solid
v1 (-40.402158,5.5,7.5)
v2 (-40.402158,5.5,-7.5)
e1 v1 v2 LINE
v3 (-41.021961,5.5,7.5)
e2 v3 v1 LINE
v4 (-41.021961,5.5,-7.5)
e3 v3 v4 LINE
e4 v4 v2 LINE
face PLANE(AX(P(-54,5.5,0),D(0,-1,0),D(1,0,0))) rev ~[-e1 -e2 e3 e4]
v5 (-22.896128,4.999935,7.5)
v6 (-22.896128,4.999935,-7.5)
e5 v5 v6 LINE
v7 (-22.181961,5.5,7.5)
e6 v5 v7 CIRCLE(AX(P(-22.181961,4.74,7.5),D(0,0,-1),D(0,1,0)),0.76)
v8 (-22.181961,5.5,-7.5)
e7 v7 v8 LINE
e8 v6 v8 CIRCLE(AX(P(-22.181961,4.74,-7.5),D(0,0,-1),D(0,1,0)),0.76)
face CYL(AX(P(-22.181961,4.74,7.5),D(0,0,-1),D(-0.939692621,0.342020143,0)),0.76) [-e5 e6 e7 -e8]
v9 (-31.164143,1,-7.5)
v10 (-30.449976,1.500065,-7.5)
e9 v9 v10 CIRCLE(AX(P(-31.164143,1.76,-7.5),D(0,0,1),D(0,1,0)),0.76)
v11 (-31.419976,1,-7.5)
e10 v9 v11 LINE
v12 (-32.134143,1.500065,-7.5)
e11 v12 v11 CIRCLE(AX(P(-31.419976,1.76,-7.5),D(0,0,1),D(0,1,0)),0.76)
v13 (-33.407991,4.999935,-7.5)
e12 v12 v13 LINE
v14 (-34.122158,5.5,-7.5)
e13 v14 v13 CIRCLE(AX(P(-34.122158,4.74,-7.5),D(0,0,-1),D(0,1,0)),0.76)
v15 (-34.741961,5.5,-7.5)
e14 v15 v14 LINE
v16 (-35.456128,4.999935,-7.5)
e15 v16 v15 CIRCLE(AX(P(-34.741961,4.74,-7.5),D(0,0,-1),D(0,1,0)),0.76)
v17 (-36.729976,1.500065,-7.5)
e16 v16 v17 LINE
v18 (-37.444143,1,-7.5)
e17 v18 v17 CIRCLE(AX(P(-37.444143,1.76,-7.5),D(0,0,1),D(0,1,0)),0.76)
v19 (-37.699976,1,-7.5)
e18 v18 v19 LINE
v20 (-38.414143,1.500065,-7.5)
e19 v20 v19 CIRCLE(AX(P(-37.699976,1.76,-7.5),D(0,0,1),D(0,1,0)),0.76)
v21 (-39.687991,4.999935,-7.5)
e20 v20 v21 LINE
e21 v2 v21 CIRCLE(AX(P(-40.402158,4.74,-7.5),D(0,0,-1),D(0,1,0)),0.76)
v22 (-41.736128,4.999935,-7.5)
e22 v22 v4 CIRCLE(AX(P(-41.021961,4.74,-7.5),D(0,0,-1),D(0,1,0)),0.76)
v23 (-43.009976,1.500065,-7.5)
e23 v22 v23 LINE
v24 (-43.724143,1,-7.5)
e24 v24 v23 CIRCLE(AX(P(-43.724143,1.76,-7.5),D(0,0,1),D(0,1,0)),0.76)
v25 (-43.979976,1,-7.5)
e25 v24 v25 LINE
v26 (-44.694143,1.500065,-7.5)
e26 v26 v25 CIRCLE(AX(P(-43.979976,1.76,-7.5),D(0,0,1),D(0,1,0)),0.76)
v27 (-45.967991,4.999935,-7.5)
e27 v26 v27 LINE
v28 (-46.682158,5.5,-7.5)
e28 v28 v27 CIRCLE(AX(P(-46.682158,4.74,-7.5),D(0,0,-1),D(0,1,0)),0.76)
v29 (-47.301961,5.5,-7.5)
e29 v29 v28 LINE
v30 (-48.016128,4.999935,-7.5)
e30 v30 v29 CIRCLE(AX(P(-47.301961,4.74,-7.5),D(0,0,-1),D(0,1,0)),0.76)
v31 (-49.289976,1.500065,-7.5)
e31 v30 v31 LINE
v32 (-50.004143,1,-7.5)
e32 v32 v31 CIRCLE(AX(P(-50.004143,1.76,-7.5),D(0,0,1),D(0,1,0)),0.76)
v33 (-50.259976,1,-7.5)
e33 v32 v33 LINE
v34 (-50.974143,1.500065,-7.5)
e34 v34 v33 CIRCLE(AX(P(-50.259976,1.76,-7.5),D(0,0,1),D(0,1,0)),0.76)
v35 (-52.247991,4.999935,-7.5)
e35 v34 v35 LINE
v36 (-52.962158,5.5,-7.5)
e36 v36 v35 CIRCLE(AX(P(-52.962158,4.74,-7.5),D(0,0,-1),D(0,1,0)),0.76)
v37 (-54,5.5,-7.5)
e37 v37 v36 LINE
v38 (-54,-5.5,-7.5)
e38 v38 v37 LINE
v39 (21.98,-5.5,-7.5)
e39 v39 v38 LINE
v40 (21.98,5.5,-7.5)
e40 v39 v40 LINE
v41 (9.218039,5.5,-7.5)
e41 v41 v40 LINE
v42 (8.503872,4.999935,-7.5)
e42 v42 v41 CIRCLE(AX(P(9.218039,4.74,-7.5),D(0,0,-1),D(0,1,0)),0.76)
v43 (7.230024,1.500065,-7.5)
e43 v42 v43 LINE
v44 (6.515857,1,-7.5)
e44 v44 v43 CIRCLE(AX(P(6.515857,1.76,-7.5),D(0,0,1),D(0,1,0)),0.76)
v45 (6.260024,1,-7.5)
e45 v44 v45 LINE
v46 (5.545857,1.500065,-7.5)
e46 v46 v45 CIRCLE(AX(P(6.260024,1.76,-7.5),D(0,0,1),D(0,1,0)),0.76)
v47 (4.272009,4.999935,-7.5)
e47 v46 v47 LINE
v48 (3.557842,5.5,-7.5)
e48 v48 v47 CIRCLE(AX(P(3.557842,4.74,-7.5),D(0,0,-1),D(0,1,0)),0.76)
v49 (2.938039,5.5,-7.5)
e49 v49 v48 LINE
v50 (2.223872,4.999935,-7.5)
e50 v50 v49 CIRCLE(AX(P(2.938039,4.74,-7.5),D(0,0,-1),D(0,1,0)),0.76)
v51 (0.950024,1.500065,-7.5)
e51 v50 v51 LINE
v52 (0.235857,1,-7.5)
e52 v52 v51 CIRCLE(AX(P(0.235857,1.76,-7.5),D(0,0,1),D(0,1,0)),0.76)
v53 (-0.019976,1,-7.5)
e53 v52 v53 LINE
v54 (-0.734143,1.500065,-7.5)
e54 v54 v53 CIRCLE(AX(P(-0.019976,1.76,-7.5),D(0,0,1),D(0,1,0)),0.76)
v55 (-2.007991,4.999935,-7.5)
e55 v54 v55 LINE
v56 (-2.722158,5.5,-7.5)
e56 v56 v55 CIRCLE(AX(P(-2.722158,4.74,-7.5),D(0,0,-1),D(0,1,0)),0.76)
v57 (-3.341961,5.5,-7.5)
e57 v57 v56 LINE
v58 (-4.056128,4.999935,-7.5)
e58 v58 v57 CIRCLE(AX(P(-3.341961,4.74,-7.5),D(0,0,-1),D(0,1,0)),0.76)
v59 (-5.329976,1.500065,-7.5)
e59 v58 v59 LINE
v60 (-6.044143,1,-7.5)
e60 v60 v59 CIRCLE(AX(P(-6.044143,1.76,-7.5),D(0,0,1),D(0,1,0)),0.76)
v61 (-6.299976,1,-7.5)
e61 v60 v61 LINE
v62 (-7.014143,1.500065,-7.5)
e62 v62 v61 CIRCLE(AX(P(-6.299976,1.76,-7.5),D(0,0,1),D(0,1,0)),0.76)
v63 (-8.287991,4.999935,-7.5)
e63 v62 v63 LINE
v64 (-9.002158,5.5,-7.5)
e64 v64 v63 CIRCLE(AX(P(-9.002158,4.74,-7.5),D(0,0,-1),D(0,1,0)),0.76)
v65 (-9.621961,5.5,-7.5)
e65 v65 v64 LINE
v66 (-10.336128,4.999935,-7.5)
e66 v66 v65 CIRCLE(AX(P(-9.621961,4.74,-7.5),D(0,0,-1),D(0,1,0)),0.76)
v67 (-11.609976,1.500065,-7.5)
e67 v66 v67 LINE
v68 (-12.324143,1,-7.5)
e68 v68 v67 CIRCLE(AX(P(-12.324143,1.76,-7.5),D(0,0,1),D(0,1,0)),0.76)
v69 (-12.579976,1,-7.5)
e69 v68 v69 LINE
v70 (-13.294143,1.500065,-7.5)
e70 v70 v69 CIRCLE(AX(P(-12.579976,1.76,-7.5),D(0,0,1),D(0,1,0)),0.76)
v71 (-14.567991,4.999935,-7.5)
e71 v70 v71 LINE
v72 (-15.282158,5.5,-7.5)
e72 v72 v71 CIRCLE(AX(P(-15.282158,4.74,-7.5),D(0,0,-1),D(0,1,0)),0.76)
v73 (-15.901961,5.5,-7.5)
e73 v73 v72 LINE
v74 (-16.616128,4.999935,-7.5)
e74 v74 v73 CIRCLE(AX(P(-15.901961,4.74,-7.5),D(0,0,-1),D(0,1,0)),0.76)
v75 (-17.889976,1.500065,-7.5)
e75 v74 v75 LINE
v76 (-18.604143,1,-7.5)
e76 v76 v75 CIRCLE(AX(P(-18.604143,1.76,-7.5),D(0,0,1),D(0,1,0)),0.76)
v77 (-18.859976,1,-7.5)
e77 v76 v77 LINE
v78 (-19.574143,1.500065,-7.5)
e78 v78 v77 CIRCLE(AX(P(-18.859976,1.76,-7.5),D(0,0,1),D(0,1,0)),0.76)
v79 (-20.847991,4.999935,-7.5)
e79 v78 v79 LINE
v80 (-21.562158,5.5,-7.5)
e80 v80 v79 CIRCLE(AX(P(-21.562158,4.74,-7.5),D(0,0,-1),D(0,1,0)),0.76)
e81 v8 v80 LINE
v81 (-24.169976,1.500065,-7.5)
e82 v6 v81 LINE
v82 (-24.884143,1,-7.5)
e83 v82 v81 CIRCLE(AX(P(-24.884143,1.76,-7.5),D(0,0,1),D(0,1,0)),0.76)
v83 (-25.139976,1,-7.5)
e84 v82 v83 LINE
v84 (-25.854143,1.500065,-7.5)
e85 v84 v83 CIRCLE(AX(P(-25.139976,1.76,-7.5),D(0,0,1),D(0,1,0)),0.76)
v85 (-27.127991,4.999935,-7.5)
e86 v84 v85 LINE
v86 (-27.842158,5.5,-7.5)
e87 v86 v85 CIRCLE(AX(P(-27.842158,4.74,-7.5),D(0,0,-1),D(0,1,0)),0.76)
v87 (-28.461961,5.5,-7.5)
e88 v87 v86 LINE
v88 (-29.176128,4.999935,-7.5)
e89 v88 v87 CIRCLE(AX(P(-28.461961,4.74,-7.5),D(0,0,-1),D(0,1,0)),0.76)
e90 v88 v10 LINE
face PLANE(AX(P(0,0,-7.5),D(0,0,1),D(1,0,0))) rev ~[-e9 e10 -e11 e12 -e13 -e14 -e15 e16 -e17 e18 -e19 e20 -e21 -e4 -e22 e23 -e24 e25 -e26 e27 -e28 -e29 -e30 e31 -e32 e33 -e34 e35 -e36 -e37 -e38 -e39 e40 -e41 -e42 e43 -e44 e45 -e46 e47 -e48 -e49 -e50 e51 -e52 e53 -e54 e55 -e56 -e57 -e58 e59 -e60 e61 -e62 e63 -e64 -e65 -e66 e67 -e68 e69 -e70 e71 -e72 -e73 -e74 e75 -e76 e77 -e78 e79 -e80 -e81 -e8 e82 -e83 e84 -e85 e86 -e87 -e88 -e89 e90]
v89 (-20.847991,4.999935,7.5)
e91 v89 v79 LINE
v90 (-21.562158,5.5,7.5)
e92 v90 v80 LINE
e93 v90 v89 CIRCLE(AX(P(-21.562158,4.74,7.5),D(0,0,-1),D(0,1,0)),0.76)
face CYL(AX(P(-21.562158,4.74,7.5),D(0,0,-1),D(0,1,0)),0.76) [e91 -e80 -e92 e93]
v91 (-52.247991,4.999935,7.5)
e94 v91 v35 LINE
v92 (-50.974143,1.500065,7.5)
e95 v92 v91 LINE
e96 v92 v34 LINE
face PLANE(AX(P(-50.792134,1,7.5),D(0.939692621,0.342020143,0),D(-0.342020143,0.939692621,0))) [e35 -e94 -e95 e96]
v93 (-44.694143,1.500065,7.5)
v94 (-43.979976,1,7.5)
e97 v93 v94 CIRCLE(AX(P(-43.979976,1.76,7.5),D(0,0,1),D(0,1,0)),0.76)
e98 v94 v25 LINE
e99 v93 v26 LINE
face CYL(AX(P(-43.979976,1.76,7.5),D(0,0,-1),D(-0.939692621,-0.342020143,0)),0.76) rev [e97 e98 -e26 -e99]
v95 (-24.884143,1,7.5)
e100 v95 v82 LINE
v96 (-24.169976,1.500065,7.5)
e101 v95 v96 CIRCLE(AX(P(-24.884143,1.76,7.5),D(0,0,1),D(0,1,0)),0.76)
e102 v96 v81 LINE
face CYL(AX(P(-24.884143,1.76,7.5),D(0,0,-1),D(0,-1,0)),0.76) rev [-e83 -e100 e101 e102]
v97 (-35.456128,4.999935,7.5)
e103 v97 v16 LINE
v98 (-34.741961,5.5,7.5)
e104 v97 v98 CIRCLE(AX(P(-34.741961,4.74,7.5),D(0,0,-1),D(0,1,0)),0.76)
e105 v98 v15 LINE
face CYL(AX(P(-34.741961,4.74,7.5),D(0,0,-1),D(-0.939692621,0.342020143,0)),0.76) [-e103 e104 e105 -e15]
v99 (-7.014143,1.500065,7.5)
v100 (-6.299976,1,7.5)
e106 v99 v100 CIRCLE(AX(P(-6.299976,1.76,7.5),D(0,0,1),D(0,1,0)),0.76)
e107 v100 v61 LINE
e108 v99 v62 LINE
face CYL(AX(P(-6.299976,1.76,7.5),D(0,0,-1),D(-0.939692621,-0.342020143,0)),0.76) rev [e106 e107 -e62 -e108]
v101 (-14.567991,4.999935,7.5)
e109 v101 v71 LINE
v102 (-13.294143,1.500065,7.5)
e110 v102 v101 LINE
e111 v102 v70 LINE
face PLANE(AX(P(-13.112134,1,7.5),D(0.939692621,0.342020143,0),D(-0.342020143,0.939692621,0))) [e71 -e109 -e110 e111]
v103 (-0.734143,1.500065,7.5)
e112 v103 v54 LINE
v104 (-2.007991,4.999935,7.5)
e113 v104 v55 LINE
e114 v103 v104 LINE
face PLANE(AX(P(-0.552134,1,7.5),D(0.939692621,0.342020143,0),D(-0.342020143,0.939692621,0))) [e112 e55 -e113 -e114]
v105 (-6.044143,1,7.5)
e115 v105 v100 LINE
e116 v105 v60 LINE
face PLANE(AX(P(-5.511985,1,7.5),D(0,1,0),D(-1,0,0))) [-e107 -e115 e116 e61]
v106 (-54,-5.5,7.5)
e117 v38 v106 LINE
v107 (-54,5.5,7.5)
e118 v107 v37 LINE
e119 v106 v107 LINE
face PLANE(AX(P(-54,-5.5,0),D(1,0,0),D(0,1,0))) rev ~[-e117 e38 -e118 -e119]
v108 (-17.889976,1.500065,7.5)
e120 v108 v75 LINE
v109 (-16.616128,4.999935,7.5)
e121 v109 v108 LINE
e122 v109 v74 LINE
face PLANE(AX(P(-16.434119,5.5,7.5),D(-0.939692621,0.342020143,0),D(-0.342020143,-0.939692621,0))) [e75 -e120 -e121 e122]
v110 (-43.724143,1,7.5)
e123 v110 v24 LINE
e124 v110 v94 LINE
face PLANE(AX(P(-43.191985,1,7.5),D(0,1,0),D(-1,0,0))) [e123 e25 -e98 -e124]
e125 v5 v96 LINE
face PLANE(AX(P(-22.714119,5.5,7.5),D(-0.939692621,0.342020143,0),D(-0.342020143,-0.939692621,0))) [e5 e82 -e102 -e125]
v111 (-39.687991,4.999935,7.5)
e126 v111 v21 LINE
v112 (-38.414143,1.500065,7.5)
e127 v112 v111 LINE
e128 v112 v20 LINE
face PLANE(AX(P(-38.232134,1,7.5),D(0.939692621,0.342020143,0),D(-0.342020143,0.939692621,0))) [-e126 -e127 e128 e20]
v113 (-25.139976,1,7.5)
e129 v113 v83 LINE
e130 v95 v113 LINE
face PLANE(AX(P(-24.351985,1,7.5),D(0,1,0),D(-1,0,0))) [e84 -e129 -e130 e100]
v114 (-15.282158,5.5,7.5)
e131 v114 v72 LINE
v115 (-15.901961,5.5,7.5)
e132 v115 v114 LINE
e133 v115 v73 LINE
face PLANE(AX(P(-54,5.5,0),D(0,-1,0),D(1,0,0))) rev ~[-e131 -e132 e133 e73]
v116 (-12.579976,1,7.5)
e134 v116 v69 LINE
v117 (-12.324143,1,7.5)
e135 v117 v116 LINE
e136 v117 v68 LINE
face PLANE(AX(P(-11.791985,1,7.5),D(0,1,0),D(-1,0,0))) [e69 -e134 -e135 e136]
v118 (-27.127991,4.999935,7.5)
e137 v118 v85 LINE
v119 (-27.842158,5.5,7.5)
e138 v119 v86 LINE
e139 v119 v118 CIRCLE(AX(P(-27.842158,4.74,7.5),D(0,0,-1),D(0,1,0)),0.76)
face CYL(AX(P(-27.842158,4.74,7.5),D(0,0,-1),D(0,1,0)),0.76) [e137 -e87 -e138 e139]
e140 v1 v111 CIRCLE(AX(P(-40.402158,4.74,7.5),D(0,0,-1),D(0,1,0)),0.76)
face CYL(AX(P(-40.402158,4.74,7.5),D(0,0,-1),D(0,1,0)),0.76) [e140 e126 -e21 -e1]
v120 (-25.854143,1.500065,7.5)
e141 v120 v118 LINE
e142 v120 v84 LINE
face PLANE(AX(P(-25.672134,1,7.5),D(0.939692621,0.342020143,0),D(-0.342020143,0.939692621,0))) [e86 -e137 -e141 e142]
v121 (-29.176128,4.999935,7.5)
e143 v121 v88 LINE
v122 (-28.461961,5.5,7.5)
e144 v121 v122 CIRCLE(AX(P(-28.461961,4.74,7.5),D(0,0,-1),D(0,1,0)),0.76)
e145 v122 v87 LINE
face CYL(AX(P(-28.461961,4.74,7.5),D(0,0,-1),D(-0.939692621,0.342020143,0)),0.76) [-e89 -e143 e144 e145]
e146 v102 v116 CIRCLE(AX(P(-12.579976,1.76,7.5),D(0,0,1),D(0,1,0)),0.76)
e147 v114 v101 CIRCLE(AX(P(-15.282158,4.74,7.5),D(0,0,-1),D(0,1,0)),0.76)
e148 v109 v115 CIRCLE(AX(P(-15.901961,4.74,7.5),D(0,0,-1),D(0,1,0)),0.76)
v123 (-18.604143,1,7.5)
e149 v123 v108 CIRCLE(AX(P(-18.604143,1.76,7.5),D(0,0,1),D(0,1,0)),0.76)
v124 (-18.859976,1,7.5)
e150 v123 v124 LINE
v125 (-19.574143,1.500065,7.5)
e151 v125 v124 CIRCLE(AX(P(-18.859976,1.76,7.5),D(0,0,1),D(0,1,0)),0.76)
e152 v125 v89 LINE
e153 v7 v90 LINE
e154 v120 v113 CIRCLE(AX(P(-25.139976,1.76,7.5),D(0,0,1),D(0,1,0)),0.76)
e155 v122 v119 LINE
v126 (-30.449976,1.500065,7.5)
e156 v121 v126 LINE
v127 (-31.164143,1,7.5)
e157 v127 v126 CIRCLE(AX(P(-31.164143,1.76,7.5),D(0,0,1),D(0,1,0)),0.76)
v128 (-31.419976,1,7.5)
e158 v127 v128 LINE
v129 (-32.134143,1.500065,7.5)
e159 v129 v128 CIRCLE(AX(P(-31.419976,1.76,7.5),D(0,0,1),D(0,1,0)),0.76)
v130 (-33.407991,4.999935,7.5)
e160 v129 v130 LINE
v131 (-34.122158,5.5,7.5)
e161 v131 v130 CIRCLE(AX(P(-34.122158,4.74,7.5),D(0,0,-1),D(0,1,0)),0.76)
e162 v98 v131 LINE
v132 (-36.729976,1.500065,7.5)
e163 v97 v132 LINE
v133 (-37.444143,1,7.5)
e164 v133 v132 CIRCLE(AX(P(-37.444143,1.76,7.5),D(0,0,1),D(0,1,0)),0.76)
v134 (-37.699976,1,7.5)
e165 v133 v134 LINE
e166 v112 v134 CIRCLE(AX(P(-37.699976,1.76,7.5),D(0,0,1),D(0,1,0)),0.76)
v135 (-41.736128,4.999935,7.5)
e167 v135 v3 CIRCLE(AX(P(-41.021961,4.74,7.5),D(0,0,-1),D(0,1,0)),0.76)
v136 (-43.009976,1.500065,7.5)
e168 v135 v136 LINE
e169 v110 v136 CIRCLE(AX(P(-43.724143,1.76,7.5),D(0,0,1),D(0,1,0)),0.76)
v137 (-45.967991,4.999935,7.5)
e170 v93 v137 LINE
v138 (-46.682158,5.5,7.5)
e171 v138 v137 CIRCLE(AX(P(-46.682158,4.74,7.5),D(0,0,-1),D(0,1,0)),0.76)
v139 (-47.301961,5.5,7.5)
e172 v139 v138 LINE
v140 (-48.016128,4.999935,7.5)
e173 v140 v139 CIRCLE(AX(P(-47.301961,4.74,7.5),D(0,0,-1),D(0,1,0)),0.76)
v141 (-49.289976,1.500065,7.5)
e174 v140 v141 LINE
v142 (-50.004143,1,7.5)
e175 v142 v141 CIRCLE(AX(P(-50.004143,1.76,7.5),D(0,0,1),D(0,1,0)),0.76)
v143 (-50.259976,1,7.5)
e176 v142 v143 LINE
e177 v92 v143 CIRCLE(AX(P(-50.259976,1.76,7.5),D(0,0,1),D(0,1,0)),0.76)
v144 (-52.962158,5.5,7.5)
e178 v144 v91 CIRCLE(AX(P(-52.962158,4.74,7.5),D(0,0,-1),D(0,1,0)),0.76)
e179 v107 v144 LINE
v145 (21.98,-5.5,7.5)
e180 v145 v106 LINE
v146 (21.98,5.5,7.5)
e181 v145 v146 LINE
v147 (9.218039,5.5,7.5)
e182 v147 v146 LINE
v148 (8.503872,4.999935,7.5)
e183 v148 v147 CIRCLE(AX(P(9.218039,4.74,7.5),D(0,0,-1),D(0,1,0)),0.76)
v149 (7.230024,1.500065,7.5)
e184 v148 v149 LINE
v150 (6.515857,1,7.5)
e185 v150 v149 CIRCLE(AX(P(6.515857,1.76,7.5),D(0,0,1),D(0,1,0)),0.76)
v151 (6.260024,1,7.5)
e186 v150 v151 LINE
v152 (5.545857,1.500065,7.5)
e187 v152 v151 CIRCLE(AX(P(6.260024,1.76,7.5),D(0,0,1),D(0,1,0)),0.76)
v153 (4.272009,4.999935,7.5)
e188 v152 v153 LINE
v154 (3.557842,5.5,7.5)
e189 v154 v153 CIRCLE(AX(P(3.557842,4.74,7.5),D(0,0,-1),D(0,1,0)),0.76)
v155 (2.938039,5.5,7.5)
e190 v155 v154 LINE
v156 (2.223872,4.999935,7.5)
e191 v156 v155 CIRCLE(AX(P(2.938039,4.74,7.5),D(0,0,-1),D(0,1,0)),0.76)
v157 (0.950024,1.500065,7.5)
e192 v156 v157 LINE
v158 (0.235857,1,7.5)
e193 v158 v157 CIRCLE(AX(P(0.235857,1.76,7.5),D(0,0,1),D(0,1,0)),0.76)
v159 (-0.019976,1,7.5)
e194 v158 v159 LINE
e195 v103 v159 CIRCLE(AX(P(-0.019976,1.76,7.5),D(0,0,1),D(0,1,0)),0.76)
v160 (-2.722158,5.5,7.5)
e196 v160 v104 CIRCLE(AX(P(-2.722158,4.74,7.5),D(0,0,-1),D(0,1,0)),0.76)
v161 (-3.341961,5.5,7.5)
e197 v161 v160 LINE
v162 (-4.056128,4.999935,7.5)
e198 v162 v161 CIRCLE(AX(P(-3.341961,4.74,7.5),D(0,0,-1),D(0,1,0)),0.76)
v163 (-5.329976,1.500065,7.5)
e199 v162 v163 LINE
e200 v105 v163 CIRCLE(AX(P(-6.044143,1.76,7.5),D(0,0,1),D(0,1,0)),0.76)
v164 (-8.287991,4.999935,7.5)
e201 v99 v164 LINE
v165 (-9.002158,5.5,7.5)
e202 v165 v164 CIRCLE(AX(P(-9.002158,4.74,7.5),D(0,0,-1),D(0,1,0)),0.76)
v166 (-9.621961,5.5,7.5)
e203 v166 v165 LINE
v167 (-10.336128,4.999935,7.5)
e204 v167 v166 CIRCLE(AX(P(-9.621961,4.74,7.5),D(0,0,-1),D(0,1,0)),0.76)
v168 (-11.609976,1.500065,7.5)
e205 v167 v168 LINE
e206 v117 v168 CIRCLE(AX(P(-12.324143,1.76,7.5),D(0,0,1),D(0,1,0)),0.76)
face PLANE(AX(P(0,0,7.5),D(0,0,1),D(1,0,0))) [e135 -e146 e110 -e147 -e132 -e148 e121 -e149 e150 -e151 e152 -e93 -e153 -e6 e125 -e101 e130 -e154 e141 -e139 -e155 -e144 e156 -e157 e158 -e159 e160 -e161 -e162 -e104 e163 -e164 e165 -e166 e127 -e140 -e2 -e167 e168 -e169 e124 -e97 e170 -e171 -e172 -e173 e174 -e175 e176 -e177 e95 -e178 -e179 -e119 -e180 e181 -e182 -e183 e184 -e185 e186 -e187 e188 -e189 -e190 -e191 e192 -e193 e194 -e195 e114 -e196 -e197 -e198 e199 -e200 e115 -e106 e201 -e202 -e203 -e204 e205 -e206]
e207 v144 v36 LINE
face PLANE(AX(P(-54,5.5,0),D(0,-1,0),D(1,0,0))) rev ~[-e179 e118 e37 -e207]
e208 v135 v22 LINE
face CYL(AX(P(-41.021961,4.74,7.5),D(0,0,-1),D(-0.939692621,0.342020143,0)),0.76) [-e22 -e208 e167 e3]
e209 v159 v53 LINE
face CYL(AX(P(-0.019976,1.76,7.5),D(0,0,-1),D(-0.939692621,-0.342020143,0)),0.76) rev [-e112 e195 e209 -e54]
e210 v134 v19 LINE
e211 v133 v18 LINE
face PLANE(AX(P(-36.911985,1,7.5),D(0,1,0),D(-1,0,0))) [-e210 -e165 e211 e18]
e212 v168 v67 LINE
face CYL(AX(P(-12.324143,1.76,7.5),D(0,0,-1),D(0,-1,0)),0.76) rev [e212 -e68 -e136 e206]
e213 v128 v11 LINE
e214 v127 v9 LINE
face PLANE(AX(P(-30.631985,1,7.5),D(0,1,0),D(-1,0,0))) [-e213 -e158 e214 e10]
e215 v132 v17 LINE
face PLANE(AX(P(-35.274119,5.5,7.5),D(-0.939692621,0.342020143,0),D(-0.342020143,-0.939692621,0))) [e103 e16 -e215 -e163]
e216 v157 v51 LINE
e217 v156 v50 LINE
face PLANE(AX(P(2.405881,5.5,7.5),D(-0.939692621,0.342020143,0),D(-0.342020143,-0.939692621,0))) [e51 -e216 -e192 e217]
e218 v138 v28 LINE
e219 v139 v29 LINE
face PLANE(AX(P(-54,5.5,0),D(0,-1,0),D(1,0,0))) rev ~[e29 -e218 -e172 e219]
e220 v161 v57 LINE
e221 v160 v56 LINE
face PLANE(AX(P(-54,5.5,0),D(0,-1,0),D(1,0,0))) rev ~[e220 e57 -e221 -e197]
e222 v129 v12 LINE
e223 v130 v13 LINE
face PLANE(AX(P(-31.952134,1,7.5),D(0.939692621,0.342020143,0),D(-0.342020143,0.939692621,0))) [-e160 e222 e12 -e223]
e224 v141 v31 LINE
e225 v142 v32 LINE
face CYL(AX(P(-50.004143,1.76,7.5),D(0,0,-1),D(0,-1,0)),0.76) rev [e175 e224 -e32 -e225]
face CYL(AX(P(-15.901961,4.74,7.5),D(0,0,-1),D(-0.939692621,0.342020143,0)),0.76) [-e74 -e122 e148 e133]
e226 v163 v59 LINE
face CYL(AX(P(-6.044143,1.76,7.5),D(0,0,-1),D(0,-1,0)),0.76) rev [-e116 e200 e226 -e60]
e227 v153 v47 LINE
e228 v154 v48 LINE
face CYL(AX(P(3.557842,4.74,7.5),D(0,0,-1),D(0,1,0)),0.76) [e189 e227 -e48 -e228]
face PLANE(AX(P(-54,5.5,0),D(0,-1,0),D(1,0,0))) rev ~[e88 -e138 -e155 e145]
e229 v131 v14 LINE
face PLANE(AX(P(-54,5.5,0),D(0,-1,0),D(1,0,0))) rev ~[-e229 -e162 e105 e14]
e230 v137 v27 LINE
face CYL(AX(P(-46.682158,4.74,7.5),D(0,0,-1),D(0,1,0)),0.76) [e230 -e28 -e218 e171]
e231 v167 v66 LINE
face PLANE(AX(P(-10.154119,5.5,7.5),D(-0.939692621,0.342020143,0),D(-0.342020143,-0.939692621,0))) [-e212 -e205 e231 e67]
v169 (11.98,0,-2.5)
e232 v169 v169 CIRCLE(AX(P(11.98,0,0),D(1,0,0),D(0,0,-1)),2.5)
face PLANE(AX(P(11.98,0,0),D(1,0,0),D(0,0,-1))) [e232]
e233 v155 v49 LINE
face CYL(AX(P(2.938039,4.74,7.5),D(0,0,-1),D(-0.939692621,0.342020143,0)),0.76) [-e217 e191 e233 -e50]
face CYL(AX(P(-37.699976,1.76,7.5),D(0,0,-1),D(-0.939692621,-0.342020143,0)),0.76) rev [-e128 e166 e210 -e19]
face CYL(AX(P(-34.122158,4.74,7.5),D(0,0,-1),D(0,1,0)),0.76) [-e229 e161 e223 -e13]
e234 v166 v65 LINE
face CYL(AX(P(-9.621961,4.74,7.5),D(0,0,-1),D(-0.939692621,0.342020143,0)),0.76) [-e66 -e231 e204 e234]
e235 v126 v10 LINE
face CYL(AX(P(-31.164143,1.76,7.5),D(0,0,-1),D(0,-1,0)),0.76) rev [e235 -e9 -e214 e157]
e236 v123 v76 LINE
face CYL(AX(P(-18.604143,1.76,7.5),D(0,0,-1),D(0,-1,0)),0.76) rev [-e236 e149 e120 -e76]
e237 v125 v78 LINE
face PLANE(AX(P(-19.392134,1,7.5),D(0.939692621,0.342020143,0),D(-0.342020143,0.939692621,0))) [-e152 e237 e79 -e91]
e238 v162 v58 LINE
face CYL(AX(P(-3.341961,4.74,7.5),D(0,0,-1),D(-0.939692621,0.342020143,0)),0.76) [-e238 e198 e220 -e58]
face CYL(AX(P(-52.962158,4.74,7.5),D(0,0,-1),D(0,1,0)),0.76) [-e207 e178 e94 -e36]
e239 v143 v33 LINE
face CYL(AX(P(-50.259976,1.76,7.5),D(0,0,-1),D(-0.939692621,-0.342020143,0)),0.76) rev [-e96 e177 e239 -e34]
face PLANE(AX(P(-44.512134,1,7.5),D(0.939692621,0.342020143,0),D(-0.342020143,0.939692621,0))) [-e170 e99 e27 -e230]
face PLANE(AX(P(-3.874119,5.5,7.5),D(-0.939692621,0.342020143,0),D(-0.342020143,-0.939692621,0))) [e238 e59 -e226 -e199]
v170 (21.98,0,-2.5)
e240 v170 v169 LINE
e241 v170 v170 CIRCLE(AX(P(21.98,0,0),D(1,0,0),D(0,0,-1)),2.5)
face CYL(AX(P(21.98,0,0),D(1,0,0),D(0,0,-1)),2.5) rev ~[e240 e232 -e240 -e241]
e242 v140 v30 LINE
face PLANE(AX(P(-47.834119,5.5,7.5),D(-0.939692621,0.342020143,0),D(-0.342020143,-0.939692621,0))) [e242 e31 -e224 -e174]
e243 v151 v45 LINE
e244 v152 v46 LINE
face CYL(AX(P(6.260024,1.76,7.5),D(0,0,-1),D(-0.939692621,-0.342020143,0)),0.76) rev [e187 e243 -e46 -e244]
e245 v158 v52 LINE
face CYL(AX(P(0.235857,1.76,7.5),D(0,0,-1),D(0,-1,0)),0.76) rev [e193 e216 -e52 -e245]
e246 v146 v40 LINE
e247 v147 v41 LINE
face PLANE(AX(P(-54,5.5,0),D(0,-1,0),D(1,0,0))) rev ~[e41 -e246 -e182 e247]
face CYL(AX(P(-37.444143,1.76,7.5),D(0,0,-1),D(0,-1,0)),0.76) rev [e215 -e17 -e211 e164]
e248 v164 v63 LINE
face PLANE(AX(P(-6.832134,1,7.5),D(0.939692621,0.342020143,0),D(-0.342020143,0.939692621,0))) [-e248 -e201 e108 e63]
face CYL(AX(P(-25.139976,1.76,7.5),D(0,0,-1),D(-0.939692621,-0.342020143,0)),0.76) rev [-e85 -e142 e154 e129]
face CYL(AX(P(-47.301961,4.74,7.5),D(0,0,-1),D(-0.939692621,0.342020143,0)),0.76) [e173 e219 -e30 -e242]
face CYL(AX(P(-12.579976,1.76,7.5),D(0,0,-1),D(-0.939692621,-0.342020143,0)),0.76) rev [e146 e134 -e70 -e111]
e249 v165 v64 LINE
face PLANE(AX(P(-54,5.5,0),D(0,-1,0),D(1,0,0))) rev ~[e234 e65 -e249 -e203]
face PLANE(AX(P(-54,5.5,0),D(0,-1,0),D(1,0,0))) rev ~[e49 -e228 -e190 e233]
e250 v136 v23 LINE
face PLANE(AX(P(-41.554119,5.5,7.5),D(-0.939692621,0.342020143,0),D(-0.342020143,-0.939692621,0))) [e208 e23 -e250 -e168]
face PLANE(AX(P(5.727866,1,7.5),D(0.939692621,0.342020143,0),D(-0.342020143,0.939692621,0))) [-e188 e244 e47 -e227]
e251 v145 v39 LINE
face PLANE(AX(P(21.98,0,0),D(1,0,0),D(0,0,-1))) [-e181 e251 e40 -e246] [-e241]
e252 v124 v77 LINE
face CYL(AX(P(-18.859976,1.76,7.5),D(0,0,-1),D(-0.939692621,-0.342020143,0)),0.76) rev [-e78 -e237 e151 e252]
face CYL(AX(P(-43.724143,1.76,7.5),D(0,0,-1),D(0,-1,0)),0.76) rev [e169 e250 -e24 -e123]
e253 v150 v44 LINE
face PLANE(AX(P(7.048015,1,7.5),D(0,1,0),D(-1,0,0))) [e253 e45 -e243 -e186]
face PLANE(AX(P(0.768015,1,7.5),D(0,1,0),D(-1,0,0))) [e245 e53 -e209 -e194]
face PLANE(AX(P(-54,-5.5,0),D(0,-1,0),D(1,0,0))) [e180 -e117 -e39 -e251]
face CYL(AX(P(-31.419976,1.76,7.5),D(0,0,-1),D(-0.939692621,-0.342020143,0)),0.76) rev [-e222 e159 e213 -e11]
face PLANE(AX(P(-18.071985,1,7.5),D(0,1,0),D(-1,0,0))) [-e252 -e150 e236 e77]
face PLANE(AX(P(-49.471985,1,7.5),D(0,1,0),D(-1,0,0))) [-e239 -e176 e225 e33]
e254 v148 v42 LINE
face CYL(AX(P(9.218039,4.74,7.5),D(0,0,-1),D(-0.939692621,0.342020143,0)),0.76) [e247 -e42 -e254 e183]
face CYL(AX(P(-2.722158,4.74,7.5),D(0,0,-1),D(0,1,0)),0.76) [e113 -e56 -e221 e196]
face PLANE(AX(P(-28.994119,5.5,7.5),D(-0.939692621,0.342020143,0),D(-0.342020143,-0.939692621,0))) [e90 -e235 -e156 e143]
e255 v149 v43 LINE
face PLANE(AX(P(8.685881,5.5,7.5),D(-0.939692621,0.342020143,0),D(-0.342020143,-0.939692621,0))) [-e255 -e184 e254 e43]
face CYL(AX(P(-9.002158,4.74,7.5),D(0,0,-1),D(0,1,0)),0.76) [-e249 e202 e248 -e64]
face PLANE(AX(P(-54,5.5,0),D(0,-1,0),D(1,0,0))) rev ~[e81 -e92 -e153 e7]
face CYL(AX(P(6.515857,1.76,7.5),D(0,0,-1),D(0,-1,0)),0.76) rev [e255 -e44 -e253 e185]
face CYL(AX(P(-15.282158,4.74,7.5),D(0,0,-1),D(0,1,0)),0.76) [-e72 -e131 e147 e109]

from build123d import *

# Parameters (mm, degrees)
SKETCH_1_W                     = 108
SKETCH_1_H                     = 11
EXTRUDE_1_DEPTH                = 7.5
CUT_EXTRUDE_1_DEPTH            = 16
FILLET_1_R                     = 0.76
PATTERN_LINEAR_1_COUNT         = 17
PATTERN_LINEAR_1_PITCH         = 6.28
FILLET_1_OF_PATTERN_LINEAR_1_R = 0.76
SKETCH_3_W                     = 15
SKETCH_3_H                     = 11
EXTRUDE_2_DEPTH                = 44.58
SKETCH_4_W                     = 15
SKETCH_4_H                     = 11
CUT_EXTRUDE_2_DEPTH            = 33.02
SKETCH_5_R                     = 2.5
CUT_EXTRUDE_3_DEPTH            = 10


with BuildPart() as part:
    # 草图1 → 凸台-拉伸1 (new body, symmetric)
    with BuildSketch(Plane.XY):
        Rectangle(SKETCH_1_W, SKETCH_1_H)
    extrude(amount=EXTRUDE_1_DEPTH, both=True)

    # 草图2 → 切除-拉伸1 (cut, through all)
    with BuildSketch(Plane.XY.offset(7.5)):
        Polygon((-52.43, 5.5), (-47.834119063, 5.5), (-49.471985117, 1), (-50.792133946, 1), align=None)
    cut_extrude_1 = extrude(amount=-CUT_EXTRUDE_1_DEPTH, mode=Mode.SUBTRACT)

    # 圆角1
    fillet_1_edges = [part.edges().sort_by_distance(p)[0] for p in [
        (-50.792133946, 1, 0),
        (-52.43, 5.5, 0),
        (-47.834119063, 5.5, 0),
        (-49.471985117, 1, 0),
    ]]
    fillet(fillet_1_edges, radius=FILLET_1_R)

    # 阵列(线性)1: 切除-拉伸1 ×17
    with Locations(*[(i * PATTERN_LINEAR_1_PITCH, 0, 0) for i in range(1, PATTERN_LINEAR_1_COUNT)]):
        add(cut_extrude_1, mode=Mode.SUBTRACT)

    # 圆角1 of 阵列(线性)1
    fillet_1_of_pattern_linear_1_edges = [part.edges().sort_by_distance(p)[0] for p in [
        (-44.512133946, 1, 0),
        (-46.15, 5.5, 0),
        (-41.554119063, 5.5, 0),
        (-43.191985117, 1, 0),
        (-38.232133946, 1, 0),
        (-39.87, 5.5, 0),
        (-35.274119063, 5.5, 0),
        (-36.911985117, 1, 0),
        (-31.952133946, 1, 0),
        (-33.59, 5.5, 0),
        (-28.994119063, 5.5, 0),
        (-30.631985117, 1, 0),
        (-25.672133946, 1, 0),
        (-27.31, 5.5, 0),
        (-22.714119063, 5.5, 0),
        (-24.351985117, 1, 0),
        (-19.392133946, 1, 0),
        (-21.03, 5.5, 0),
        (-16.434119063, 5.5, 0),
        (-18.071985117, 1, 0),
        (-13.112133946, 1, 0),
        (-14.75, 5.5, 0),
        (-10.154119063, 5.5, 0),
        (-11.791985117, 1, 0),
        (-6.832133946, 1, 0),
        (-8.47, 5.5, 0),
        (-3.874119063, 5.5, 0),
        (-5.511985117, 1, 0),
        (-0.552133946, 1, 0),
        (-2.19, 5.5, 0),
        (2.405880937, 5.5, 0),
        (0.768014883, 1, 0),
        (5.727866054, 1, 0),
        (4.09, 5.5, 0),
        (8.685880937, 5.5, 0),
        (7.048014883, 1, 0),
        (12.007866054, 1, 0),
        (10.37, 5.5, 0),
        (14.965880937, 5.5, 0),
        (13.328014883, 1, 0),
        (18.287866054, 1, 0),
        (16.65, 5.5, 0),
        (21.245880937, 5.5, 0),
        (19.608014883, 1, 0),
        (24.567866054, 1, 0),
        (22.93, 5.5, 0),
        (27.525880937, 5.5, 0),
        (25.888014883, 1, 0),
        (30.847866054, 1, 0),
        (29.21, 5.5, 0),
        (33.805880937, 5.5, 0),
        (32.168014883, 1, 0),
        (37.127866054, 1, 0),
        (35.49, 5.5, 0),
        (40.085880937, 5.5, 0),
        (38.448014883, 1, 0),
        (43.407866054, 1, 0),
        (41.77, 5.5, 0),
        (46.365880937, 5.5, 0),
        (44.728014883, 1, 0),
        (49.687866054, 1, 0),
        (48.05, 5.5, 0),
        (52.645880937, 5.5, 0),
        (51.008014883, 1, 0),
    ]]
    fillet(fillet_1_of_pattern_linear_1_edges, radius=FILLET_1_OF_PATTERN_LINEAR_1_R)

    # 草图3 → 凸台-拉伸2 (add)
    with BuildSketch(Plane(origin=(9.42, 0, 0), x_dir=(0, 0, -1), z_dir=(1, 0, 0))):
        Rectangle(SKETCH_3_W, SKETCH_3_H)
    extrude(amount=EXTRUDE_2_DEPTH)

    # 草图4 → 切除-拉伸2 (cut, through all)
    with BuildSketch(Plane(origin=(21.98, 0, 0), x_dir=(0, 0, -1), z_dir=(1, 0, 0))):
        Rectangle(SKETCH_4_W, SKETCH_4_H)
    extrude(amount=CUT_EXTRUDE_2_DEPTH, mode=Mode.SUBTRACT)

    # 草图5 → 切除-拉伸3 (cut)
    with BuildSketch(Plane(origin=(21.98, 0, 0), x_dir=(0, 0, -1), z_dir=(1, 0, 0))):
        Circle(SKETCH_5_R)
    extrude(amount=-CUT_EXTRUDE_3_DEPTH, mode=Mode.SUBTRACT)


solid = part.part
